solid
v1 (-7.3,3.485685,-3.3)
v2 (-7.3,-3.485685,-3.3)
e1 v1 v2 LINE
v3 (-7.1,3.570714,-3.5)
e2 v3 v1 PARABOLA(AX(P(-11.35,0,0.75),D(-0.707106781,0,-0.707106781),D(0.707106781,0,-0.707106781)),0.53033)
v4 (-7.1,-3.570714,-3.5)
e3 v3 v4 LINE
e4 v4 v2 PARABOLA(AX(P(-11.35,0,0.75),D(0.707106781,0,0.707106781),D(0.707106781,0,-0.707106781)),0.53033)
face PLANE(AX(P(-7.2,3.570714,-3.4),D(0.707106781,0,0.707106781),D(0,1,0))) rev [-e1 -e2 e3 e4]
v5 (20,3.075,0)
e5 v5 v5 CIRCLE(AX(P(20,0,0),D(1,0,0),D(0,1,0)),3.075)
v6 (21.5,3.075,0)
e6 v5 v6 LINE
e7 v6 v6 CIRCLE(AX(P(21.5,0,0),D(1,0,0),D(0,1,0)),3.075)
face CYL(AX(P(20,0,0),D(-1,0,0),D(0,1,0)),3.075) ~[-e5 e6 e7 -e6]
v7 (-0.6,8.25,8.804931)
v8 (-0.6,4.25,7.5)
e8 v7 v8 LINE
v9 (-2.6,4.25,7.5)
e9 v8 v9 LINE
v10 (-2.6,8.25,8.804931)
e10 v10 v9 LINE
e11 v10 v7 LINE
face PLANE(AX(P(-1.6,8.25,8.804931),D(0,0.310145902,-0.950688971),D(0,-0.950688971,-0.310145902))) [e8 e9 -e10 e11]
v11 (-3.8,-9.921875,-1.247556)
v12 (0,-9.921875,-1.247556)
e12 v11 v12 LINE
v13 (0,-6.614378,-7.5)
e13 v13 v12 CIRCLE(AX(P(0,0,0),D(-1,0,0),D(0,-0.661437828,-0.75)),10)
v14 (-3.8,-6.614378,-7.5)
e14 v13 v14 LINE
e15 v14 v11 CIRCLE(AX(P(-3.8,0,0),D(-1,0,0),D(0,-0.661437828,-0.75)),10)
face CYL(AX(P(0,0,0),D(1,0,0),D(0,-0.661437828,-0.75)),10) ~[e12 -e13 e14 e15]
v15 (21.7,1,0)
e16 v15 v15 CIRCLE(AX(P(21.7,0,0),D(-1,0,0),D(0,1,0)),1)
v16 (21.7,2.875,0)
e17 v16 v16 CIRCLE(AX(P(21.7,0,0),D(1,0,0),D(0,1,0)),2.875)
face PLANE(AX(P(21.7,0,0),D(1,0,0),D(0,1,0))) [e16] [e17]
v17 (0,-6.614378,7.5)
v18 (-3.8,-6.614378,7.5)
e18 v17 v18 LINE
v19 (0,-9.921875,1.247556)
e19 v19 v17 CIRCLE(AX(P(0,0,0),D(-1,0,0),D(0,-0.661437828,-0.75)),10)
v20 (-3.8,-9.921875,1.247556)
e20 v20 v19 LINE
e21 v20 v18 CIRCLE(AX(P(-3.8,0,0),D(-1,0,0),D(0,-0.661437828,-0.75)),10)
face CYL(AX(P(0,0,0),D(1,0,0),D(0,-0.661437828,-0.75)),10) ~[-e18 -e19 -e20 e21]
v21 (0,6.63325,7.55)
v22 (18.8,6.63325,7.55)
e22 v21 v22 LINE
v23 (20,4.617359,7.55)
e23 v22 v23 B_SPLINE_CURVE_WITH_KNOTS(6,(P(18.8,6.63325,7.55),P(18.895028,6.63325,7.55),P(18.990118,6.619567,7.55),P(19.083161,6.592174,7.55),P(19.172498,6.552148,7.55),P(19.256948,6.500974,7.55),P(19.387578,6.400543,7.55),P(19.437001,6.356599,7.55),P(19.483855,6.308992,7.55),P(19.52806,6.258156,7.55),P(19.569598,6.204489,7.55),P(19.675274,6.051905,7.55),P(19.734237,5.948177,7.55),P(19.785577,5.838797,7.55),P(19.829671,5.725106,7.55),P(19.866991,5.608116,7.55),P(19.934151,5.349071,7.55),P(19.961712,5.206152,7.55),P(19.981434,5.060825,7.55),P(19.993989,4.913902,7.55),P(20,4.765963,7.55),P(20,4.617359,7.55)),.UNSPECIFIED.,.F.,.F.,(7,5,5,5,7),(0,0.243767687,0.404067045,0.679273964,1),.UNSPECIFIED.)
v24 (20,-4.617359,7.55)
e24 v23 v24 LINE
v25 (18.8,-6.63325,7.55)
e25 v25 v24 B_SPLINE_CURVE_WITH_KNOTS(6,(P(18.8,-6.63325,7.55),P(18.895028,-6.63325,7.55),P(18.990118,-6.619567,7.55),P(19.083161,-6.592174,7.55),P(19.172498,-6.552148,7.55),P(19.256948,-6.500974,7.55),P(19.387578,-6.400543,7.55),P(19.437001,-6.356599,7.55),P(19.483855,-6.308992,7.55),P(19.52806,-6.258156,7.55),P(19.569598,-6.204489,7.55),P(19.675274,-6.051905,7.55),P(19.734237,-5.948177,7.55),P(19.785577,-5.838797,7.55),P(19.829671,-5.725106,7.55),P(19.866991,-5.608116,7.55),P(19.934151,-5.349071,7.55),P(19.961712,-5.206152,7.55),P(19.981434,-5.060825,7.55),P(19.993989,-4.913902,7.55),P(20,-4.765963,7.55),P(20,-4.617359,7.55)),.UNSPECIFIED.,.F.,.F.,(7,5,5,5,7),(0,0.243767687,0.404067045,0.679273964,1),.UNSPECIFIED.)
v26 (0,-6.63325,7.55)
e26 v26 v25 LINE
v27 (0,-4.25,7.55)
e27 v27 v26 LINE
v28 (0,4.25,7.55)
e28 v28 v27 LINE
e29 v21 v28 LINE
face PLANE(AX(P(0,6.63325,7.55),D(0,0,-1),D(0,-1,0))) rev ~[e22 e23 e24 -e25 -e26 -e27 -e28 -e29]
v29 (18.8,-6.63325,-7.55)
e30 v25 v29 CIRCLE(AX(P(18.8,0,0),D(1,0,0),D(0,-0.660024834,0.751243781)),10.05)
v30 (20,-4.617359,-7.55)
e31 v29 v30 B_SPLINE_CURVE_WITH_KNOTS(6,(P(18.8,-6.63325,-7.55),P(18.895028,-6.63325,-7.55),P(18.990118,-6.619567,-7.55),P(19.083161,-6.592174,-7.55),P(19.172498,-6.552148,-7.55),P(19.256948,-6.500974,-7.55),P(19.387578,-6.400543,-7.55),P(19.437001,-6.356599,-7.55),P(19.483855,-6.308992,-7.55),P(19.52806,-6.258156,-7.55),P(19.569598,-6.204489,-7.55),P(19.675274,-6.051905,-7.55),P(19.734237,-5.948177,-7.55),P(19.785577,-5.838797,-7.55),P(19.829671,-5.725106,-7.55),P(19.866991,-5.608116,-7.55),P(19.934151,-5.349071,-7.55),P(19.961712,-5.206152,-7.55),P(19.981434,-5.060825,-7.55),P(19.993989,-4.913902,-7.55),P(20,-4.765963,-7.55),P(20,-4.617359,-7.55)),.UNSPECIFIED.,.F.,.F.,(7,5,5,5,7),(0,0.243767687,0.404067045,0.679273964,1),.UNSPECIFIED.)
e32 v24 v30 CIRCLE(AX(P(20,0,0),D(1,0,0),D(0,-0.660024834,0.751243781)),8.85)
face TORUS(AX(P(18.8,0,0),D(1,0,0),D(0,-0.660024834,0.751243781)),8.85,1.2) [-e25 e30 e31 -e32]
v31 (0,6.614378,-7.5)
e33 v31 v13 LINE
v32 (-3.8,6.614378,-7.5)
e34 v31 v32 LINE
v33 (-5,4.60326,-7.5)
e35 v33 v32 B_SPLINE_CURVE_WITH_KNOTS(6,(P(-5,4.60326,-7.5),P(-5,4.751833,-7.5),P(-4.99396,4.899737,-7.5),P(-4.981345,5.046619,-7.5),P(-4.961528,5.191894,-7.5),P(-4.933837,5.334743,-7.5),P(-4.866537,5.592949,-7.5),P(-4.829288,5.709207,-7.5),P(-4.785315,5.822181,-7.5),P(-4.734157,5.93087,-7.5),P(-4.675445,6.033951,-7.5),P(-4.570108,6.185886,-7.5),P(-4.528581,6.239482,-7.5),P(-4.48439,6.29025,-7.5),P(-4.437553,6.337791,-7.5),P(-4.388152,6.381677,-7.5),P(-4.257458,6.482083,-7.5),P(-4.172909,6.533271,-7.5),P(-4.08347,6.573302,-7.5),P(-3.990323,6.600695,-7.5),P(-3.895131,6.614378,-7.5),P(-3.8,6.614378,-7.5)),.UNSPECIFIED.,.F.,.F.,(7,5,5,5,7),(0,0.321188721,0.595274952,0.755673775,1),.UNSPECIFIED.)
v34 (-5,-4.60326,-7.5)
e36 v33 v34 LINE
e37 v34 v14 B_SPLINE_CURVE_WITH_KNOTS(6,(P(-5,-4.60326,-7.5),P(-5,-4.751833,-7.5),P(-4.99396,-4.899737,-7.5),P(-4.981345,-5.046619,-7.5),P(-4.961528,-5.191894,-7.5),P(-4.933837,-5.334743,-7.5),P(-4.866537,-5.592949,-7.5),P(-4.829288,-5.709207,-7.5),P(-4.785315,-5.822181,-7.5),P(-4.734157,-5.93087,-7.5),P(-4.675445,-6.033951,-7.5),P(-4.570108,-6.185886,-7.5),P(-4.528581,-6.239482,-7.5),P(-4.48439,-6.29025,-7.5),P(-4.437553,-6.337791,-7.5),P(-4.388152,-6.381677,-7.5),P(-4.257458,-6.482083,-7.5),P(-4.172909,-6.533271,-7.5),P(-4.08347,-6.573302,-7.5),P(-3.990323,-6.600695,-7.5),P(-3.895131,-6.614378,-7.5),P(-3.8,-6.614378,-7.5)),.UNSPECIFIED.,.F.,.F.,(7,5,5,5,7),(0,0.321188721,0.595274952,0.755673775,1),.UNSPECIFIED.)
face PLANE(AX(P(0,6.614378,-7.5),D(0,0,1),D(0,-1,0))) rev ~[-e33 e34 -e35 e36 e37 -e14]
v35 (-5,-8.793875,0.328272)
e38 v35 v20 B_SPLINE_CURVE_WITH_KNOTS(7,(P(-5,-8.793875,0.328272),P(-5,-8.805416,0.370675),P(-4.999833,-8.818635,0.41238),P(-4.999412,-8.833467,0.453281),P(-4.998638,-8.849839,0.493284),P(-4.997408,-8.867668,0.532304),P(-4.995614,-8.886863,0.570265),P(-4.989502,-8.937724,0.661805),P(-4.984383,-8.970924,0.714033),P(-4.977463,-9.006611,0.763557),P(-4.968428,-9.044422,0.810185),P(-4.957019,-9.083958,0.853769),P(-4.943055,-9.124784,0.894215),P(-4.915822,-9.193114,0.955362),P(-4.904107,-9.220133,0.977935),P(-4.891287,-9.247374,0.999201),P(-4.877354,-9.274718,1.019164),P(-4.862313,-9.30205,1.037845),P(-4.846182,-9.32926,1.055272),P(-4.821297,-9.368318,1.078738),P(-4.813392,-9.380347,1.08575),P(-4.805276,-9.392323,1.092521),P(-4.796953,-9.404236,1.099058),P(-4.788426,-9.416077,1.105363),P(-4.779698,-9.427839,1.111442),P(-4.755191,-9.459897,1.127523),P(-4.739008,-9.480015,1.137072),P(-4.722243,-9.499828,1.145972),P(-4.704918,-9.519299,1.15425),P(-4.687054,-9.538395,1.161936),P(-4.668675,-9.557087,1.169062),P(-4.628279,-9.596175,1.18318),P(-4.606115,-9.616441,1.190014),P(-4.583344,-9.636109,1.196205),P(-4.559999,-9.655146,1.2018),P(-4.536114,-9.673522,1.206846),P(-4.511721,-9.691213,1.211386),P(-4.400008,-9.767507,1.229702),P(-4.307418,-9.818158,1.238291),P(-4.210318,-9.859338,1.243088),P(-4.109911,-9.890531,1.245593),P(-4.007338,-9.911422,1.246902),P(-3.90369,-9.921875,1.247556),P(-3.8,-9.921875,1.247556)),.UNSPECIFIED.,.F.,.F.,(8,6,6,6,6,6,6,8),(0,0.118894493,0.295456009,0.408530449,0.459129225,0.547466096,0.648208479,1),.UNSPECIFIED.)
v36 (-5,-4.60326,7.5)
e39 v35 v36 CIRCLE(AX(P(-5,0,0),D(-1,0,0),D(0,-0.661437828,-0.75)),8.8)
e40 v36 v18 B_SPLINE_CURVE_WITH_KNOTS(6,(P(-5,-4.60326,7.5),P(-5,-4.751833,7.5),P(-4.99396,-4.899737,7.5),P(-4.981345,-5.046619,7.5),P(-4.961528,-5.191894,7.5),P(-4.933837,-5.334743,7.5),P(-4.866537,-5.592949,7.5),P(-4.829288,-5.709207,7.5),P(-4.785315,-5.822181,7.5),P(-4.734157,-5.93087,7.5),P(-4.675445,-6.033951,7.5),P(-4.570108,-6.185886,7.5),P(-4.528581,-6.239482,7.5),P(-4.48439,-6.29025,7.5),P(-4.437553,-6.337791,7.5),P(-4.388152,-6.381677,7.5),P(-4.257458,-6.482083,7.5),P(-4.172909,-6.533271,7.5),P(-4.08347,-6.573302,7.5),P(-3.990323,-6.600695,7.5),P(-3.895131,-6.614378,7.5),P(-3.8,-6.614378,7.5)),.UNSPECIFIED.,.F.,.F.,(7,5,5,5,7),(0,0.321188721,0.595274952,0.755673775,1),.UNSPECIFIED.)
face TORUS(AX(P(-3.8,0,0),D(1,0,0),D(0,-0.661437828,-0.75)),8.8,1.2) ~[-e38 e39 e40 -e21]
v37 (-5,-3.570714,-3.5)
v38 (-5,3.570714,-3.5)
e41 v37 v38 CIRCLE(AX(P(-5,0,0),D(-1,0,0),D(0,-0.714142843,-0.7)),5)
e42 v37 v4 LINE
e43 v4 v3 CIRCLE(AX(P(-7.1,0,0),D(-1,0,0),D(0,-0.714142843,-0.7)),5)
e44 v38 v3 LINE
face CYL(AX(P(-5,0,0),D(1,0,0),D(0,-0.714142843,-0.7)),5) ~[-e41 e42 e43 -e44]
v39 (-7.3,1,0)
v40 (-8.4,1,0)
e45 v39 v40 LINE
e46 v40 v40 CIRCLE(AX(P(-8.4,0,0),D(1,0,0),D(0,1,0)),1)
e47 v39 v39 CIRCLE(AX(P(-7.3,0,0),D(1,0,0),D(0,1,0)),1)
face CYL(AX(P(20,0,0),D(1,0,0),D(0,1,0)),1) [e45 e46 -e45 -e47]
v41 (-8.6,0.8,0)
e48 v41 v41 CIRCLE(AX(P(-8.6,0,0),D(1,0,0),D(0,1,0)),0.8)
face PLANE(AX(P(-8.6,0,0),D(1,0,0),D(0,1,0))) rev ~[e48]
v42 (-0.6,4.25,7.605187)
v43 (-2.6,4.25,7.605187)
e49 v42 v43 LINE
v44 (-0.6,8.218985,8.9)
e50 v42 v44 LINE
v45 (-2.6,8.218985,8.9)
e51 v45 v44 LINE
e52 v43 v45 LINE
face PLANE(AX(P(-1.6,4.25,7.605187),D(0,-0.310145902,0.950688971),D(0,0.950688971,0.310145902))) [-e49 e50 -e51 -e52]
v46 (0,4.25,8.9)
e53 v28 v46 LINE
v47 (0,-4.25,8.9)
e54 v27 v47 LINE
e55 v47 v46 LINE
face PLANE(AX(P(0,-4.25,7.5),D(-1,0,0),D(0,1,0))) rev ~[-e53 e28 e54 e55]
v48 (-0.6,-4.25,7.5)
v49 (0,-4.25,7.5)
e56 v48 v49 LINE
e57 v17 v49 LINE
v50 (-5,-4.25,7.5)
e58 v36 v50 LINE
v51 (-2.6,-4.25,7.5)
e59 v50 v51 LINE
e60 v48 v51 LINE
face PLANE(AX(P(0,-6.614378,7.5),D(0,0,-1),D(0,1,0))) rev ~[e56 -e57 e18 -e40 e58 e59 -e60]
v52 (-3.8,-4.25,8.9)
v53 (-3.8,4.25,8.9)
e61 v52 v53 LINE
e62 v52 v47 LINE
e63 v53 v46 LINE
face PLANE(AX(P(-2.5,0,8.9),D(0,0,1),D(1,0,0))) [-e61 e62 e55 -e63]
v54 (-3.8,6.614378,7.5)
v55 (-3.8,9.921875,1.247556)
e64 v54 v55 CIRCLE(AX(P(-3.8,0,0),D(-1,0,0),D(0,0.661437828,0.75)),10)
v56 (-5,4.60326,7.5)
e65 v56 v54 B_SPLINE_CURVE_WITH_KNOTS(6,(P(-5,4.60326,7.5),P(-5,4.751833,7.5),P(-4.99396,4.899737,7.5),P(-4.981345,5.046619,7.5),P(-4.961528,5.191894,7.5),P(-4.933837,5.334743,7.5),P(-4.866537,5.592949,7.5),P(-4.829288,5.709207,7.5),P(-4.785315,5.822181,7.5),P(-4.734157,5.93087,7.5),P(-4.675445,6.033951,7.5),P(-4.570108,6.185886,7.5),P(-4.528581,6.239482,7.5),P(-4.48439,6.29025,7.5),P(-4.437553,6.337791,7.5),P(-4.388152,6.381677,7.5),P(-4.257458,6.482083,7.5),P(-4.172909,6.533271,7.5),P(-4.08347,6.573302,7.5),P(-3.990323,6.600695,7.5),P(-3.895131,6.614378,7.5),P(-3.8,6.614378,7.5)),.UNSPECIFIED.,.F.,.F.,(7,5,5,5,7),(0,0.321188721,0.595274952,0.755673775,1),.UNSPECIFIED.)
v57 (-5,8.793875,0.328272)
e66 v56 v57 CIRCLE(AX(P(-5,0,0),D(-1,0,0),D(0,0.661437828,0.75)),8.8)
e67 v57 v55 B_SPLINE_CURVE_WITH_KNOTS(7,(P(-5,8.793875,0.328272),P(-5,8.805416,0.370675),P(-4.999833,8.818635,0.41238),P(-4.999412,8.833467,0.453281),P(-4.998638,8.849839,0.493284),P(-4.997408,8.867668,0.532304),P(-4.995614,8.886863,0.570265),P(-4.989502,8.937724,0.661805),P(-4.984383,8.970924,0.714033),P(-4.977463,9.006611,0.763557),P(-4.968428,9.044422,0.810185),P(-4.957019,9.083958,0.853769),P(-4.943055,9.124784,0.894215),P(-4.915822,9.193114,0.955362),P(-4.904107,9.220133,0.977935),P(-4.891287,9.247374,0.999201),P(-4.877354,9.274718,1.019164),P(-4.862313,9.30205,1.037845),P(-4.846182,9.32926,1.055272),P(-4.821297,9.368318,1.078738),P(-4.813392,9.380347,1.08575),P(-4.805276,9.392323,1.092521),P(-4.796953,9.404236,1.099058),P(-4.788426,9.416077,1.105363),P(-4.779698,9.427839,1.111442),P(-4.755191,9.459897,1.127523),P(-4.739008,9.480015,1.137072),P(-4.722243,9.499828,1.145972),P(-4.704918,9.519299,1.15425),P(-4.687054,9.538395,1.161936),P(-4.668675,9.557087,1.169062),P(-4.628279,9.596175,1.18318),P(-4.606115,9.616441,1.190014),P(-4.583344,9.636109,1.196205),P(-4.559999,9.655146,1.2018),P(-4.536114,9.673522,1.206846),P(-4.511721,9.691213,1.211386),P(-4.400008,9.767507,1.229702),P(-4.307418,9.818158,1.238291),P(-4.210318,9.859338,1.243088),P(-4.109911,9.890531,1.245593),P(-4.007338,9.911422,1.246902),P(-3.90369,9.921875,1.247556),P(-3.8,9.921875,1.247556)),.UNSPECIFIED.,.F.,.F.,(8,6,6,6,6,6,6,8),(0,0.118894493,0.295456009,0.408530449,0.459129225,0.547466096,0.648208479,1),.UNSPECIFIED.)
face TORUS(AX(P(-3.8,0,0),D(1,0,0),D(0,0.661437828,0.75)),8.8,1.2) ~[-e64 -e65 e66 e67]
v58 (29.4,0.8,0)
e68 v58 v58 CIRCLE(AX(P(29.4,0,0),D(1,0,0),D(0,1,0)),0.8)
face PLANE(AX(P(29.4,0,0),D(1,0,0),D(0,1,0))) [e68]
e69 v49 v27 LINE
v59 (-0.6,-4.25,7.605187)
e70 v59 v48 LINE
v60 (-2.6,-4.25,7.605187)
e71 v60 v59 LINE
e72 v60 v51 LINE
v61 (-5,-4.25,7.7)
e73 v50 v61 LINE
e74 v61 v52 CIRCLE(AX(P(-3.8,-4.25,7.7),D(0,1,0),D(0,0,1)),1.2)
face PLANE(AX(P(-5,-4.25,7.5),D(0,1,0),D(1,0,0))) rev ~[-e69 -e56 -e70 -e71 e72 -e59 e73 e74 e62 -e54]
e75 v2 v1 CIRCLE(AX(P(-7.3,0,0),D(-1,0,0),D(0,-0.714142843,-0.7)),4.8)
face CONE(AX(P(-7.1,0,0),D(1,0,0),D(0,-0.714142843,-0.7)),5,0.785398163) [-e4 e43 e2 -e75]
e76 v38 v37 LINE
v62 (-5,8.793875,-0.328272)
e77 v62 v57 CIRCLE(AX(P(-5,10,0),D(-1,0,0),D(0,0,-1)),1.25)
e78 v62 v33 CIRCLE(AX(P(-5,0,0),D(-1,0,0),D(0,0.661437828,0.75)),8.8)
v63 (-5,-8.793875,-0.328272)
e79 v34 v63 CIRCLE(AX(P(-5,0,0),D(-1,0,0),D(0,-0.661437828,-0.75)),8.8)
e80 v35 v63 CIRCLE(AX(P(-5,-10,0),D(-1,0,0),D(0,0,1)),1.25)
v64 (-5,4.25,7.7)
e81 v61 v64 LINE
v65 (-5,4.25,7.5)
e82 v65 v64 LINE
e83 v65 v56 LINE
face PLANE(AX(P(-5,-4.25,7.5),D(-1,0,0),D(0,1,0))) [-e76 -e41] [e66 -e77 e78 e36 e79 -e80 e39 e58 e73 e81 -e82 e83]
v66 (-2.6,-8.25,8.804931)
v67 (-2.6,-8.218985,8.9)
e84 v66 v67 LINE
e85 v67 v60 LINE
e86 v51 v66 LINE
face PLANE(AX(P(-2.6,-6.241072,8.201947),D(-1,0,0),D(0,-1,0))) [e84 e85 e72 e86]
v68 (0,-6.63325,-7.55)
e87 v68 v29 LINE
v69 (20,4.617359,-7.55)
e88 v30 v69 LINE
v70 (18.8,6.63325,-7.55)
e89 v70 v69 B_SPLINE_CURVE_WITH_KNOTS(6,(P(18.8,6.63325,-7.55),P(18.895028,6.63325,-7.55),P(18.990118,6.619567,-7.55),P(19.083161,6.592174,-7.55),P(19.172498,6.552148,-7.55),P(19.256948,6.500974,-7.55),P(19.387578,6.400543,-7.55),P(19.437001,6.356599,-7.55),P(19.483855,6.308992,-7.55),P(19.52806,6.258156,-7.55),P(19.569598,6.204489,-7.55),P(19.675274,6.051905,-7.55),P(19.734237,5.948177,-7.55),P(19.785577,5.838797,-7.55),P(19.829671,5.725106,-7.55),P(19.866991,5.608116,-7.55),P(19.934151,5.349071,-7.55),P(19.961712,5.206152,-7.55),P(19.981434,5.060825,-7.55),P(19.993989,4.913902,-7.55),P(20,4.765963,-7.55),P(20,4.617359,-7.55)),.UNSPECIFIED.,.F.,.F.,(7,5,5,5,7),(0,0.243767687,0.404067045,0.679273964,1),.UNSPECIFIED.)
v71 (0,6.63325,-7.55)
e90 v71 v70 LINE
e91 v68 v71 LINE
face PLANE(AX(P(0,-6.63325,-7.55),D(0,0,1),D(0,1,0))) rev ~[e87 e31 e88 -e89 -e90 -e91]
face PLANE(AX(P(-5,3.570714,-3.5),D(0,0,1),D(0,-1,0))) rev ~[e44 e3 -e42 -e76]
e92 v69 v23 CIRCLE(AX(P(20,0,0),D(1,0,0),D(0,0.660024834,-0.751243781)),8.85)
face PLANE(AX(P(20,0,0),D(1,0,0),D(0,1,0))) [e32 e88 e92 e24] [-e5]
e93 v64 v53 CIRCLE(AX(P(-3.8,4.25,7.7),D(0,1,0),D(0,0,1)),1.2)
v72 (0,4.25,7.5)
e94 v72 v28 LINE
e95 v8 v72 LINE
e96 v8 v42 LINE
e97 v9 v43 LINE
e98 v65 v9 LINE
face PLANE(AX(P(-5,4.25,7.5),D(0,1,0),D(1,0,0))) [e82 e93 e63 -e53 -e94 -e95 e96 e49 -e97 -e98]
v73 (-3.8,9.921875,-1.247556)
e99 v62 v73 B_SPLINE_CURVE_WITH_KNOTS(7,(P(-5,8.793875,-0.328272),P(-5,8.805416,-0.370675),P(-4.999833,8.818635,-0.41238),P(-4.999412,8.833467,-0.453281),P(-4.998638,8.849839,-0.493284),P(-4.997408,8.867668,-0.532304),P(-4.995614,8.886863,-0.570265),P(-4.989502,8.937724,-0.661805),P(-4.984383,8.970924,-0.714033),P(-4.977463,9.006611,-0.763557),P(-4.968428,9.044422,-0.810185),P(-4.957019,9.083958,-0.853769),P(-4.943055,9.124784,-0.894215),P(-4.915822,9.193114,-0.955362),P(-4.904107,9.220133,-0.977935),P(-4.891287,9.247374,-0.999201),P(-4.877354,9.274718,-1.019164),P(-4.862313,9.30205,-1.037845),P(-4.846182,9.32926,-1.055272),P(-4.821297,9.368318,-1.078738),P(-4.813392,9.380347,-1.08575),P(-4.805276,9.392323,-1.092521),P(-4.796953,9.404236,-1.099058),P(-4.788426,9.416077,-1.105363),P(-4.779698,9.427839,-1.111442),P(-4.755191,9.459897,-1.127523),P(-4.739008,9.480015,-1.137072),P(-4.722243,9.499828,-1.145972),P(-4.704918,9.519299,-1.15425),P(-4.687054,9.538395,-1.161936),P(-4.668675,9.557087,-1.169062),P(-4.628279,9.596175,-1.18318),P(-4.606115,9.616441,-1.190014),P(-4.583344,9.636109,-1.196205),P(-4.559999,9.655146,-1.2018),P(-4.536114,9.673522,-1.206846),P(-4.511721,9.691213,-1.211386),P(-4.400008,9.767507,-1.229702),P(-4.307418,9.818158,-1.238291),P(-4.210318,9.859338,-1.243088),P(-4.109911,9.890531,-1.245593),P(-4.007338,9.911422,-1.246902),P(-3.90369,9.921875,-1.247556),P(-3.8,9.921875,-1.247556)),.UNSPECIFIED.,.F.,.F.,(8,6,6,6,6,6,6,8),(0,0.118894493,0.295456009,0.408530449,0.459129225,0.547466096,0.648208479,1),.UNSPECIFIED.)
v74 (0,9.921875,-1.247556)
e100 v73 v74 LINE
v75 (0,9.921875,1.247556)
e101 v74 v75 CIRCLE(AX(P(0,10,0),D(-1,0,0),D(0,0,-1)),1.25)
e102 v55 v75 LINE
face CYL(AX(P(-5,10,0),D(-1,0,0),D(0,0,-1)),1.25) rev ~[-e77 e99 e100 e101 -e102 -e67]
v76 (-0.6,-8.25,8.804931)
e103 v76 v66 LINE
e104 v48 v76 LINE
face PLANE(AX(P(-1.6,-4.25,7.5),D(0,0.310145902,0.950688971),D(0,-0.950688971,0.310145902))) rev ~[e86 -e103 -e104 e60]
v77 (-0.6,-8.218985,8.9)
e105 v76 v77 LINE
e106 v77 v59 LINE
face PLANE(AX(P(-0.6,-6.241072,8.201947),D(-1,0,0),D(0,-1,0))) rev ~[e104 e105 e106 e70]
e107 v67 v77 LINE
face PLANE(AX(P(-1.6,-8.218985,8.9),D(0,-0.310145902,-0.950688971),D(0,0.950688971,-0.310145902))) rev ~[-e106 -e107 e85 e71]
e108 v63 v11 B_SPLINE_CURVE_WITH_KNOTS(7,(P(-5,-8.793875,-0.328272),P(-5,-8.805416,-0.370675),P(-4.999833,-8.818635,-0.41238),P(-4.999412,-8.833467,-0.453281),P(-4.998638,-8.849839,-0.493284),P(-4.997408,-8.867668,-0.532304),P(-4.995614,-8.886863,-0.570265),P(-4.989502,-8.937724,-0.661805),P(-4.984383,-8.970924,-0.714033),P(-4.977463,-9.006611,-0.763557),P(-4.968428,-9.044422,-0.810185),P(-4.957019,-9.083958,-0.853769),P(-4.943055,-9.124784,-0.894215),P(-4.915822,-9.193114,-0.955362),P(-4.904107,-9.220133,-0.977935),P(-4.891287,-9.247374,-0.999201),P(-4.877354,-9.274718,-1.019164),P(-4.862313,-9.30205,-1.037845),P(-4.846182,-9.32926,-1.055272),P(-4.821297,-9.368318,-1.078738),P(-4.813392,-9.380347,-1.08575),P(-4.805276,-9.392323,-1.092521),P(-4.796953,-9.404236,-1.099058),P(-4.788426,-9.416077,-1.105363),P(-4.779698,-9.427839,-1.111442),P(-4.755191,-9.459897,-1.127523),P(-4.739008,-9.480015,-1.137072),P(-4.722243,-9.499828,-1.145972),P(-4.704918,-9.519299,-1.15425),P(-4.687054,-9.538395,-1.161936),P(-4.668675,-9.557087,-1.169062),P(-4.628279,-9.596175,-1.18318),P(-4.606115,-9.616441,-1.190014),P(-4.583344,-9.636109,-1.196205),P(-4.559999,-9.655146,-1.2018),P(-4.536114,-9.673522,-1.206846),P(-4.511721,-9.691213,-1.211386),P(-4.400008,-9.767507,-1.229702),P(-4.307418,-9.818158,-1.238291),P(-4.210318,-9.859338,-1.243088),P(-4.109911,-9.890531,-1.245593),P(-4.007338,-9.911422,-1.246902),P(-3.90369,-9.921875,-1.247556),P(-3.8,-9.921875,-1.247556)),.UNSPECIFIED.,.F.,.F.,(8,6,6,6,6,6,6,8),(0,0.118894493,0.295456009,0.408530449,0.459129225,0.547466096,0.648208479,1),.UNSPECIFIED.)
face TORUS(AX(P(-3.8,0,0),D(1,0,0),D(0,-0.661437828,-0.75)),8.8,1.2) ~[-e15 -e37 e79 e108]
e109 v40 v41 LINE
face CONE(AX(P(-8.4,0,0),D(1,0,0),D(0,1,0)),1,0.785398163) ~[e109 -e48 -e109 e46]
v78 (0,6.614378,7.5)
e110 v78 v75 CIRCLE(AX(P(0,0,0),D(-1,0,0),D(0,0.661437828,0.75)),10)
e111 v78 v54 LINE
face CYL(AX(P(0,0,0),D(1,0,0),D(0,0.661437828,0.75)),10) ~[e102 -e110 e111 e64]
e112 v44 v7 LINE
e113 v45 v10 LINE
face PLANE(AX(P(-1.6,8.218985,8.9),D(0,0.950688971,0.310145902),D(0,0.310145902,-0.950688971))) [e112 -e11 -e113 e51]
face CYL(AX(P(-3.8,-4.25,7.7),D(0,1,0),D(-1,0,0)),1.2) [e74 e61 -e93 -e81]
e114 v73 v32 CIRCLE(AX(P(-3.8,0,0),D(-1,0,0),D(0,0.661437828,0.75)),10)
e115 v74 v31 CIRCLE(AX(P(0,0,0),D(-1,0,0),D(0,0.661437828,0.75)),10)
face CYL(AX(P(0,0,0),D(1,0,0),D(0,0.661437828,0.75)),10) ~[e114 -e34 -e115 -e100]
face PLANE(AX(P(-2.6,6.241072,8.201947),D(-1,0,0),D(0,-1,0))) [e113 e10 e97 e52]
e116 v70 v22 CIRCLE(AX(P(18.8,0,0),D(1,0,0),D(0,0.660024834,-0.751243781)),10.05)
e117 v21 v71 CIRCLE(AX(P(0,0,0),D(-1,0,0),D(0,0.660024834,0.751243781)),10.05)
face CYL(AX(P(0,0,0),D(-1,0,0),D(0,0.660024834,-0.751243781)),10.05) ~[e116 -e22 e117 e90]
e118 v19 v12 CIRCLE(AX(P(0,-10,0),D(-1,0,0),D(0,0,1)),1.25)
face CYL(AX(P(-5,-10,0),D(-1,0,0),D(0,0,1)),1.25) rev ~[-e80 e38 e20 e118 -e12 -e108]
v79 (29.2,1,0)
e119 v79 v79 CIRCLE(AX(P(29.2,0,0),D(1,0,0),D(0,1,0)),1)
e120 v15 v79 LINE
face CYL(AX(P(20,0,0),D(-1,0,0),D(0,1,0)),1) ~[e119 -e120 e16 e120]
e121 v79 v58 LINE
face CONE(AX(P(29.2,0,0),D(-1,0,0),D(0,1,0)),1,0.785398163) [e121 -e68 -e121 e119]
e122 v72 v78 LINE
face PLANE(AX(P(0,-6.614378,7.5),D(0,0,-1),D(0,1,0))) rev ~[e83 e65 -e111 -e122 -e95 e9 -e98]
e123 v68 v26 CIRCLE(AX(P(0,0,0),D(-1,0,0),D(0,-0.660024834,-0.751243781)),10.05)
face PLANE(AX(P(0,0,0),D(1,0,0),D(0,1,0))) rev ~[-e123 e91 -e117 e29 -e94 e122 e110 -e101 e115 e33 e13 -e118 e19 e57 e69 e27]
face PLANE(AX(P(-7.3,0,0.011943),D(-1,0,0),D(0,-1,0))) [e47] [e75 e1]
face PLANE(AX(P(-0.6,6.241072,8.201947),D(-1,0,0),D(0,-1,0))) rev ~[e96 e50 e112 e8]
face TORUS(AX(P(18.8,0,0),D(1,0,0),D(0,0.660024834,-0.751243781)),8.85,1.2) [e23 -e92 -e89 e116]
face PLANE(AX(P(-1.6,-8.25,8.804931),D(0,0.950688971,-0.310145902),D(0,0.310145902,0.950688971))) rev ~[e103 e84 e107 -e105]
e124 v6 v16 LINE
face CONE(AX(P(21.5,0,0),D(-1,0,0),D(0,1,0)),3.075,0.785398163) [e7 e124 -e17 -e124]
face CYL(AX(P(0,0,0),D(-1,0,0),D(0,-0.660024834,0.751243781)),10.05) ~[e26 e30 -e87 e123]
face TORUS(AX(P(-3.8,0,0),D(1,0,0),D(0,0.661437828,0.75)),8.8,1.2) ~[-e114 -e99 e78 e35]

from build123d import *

# Parameters (mm, degrees)
F1_DEPTH       = 20
F2_R           = 3.075
F3_DEPTH       = 1.7
F5_DEPTH       = 5
F6_W           = 5
F6_H           = 8.5
F7_DEPTH       = 1.4
F10_DEPTH      = 1
F12_DEPTH      = 2.3
F13_R          = 1
F14_DEPTH      = 9.4
F14_DEPTH_BACK = 28.6
F15_R          = 1.2
F16_SIZE       = 0.2
F18_DEPTH      = 5


with BuildPart() as f1:
    # F0 (on Right) → F1 (new body)
    with BuildSketch(Plane.YZ):
        with BuildLine():
            Line((6.6332495807, 7.55), (-6.6332495807, 7.55))
            ThreePointArc((-6.6332495807, 7.55), (-10.05, 0), (-6.6332495807, -7.55))
            Line((-6.6332495807, -7.55), (6.6332495807, -7.55))
            ThreePointArc((6.6332495807, -7.55), (10.05, 0), (6.6332495807, 7.55))
        make_face()
    extrude(amount=F1_DEPTH)

    # F2 (on face) → F3 (join)
    with BuildSketch(Plane.YZ.offset(20)):
        Circle(F2_R)
    extrude(amount=F3_DEPTH)

    # F4 (on face) → F5 (join)
    with BuildSketch(Plane(origin=(0, 0, 0), x_dir=(0, -1, 0), z_dir=(-1, 0, 0))):
        with BuildLine():
            Line((6.6143782777, 7.5), (-6.6143782777, 7.5))
            ThreePointArc((-6.6143782777, 7.5), (-10, 0), (-6.6143782777, -7.5))
            Line((-6.6143782777, -7.5), (6.6143782777, -7.5))
            ThreePointArc((6.6143782777, -7.5), (10, 0), (6.6143782777, 7.5))
        make_face()
    extrude(amount=F5_DEPTH)

    # F6 (on face) → F7 (join)
    with BuildSketch(Plane.XY.offset(7.5)):
        with Locations((-2.5, 0)):
            Rectangle(F6_W, F6_H)
    extrude(amount=F7_DEPTH)

    # F9 (on offset) → F10 (join, symmetric)
    with BuildSketch(Plane(origin=(-1.6, 0, 0), x_dir=(0, -1, 0), z_dir=(-1, 0, 0))):
        Polygon((4.25, 7.6051868729), (4.25, 7.5), (8.25, 8.8049311029), (8.2189854098, 8.9), align=None)
        Polygon((-8.25, 8.8049311029), (-4.25, 7.5), (-4.25, 7.6051868729), (-8.2189854098, 8.9), align=None)
    extrude(amount=F10_DEPTH, both=True)

    # F11 (on face) → F12 (join)
    with BuildSketch(Plane(origin=(-5, 0, 0), x_dir=(0, -1, 0), z_dir=(-1, 0, 0))):
        with BuildLine():
            Line((-3.5707142143, -3.5), (3.5707142143, -3.5))
            ThreePointArc((3.5707142143, -3.5), (0, 5), (-3.5707142143, -3.5))
        make_face()
    extrude(amount=F12_DEPTH)

    # F13 (on face) → F14 (join, two sides)
    with BuildSketch(Plane.YZ.offset(20)) as f14_sk:
        Circle(F13_R)
    extrude(amount=F14_DEPTH)
    extrude(f14_sk.sketch, amount=-F14_DEPTH_BACK)

    # F15
    f15_edges = [f1.edges().sort_by_distance(p)[0] for p in [
        (-5, -10, 0),
        (-5, 10, 0),
        (-5, 0, 8.9),
        (20, -10.05, 0),
        (20, 10.05, 0),
    ]]
    fillet(f15_edges, radius=F15_R)

    # F16
    f16_edges = [f1.edges().sort_by_distance(p)[0] for p in [
        (-8.6, -1, 0),
        (-7.3, 0, 5),
        (21.7, -3.075, 0),
        (29.4, -1, 0),
        (-7.3, 0, -3.5),
    ]]
    chamfer(f16_edges, length=F16_SIZE)

    # F17 (on face) → F18 (cut)
    with BuildSketch(Plane(origin=(-5, 0, 0), x_dir=(0, -1, 0), z_dir=(-1, 0, 0))):
        with BuildLine():
            Line((12, 1.25), (10, 1.25))
            ThreePointArc((10, 1.25), (8.75, 0), (10, -1.25))
            Line((10, -1.25), (12, -1.25))
            Line((12, -1.25), (12, 1.25))
        make_face()
        with BuildLine():
            Line((-12, -1.25), (-10, -1.25))
            ThreePointArc((-10, -1.25), (-8.75, 0), (-10, 1.25))
            Line((-10, 1.25), (-12, 1.25))
            Line((-12, 1.25), (-12, -1.25))
        make_face()
    extrude(amount=-F18_DEPTH, mode=Mode.SUBTRACT)


solid = f1.part
